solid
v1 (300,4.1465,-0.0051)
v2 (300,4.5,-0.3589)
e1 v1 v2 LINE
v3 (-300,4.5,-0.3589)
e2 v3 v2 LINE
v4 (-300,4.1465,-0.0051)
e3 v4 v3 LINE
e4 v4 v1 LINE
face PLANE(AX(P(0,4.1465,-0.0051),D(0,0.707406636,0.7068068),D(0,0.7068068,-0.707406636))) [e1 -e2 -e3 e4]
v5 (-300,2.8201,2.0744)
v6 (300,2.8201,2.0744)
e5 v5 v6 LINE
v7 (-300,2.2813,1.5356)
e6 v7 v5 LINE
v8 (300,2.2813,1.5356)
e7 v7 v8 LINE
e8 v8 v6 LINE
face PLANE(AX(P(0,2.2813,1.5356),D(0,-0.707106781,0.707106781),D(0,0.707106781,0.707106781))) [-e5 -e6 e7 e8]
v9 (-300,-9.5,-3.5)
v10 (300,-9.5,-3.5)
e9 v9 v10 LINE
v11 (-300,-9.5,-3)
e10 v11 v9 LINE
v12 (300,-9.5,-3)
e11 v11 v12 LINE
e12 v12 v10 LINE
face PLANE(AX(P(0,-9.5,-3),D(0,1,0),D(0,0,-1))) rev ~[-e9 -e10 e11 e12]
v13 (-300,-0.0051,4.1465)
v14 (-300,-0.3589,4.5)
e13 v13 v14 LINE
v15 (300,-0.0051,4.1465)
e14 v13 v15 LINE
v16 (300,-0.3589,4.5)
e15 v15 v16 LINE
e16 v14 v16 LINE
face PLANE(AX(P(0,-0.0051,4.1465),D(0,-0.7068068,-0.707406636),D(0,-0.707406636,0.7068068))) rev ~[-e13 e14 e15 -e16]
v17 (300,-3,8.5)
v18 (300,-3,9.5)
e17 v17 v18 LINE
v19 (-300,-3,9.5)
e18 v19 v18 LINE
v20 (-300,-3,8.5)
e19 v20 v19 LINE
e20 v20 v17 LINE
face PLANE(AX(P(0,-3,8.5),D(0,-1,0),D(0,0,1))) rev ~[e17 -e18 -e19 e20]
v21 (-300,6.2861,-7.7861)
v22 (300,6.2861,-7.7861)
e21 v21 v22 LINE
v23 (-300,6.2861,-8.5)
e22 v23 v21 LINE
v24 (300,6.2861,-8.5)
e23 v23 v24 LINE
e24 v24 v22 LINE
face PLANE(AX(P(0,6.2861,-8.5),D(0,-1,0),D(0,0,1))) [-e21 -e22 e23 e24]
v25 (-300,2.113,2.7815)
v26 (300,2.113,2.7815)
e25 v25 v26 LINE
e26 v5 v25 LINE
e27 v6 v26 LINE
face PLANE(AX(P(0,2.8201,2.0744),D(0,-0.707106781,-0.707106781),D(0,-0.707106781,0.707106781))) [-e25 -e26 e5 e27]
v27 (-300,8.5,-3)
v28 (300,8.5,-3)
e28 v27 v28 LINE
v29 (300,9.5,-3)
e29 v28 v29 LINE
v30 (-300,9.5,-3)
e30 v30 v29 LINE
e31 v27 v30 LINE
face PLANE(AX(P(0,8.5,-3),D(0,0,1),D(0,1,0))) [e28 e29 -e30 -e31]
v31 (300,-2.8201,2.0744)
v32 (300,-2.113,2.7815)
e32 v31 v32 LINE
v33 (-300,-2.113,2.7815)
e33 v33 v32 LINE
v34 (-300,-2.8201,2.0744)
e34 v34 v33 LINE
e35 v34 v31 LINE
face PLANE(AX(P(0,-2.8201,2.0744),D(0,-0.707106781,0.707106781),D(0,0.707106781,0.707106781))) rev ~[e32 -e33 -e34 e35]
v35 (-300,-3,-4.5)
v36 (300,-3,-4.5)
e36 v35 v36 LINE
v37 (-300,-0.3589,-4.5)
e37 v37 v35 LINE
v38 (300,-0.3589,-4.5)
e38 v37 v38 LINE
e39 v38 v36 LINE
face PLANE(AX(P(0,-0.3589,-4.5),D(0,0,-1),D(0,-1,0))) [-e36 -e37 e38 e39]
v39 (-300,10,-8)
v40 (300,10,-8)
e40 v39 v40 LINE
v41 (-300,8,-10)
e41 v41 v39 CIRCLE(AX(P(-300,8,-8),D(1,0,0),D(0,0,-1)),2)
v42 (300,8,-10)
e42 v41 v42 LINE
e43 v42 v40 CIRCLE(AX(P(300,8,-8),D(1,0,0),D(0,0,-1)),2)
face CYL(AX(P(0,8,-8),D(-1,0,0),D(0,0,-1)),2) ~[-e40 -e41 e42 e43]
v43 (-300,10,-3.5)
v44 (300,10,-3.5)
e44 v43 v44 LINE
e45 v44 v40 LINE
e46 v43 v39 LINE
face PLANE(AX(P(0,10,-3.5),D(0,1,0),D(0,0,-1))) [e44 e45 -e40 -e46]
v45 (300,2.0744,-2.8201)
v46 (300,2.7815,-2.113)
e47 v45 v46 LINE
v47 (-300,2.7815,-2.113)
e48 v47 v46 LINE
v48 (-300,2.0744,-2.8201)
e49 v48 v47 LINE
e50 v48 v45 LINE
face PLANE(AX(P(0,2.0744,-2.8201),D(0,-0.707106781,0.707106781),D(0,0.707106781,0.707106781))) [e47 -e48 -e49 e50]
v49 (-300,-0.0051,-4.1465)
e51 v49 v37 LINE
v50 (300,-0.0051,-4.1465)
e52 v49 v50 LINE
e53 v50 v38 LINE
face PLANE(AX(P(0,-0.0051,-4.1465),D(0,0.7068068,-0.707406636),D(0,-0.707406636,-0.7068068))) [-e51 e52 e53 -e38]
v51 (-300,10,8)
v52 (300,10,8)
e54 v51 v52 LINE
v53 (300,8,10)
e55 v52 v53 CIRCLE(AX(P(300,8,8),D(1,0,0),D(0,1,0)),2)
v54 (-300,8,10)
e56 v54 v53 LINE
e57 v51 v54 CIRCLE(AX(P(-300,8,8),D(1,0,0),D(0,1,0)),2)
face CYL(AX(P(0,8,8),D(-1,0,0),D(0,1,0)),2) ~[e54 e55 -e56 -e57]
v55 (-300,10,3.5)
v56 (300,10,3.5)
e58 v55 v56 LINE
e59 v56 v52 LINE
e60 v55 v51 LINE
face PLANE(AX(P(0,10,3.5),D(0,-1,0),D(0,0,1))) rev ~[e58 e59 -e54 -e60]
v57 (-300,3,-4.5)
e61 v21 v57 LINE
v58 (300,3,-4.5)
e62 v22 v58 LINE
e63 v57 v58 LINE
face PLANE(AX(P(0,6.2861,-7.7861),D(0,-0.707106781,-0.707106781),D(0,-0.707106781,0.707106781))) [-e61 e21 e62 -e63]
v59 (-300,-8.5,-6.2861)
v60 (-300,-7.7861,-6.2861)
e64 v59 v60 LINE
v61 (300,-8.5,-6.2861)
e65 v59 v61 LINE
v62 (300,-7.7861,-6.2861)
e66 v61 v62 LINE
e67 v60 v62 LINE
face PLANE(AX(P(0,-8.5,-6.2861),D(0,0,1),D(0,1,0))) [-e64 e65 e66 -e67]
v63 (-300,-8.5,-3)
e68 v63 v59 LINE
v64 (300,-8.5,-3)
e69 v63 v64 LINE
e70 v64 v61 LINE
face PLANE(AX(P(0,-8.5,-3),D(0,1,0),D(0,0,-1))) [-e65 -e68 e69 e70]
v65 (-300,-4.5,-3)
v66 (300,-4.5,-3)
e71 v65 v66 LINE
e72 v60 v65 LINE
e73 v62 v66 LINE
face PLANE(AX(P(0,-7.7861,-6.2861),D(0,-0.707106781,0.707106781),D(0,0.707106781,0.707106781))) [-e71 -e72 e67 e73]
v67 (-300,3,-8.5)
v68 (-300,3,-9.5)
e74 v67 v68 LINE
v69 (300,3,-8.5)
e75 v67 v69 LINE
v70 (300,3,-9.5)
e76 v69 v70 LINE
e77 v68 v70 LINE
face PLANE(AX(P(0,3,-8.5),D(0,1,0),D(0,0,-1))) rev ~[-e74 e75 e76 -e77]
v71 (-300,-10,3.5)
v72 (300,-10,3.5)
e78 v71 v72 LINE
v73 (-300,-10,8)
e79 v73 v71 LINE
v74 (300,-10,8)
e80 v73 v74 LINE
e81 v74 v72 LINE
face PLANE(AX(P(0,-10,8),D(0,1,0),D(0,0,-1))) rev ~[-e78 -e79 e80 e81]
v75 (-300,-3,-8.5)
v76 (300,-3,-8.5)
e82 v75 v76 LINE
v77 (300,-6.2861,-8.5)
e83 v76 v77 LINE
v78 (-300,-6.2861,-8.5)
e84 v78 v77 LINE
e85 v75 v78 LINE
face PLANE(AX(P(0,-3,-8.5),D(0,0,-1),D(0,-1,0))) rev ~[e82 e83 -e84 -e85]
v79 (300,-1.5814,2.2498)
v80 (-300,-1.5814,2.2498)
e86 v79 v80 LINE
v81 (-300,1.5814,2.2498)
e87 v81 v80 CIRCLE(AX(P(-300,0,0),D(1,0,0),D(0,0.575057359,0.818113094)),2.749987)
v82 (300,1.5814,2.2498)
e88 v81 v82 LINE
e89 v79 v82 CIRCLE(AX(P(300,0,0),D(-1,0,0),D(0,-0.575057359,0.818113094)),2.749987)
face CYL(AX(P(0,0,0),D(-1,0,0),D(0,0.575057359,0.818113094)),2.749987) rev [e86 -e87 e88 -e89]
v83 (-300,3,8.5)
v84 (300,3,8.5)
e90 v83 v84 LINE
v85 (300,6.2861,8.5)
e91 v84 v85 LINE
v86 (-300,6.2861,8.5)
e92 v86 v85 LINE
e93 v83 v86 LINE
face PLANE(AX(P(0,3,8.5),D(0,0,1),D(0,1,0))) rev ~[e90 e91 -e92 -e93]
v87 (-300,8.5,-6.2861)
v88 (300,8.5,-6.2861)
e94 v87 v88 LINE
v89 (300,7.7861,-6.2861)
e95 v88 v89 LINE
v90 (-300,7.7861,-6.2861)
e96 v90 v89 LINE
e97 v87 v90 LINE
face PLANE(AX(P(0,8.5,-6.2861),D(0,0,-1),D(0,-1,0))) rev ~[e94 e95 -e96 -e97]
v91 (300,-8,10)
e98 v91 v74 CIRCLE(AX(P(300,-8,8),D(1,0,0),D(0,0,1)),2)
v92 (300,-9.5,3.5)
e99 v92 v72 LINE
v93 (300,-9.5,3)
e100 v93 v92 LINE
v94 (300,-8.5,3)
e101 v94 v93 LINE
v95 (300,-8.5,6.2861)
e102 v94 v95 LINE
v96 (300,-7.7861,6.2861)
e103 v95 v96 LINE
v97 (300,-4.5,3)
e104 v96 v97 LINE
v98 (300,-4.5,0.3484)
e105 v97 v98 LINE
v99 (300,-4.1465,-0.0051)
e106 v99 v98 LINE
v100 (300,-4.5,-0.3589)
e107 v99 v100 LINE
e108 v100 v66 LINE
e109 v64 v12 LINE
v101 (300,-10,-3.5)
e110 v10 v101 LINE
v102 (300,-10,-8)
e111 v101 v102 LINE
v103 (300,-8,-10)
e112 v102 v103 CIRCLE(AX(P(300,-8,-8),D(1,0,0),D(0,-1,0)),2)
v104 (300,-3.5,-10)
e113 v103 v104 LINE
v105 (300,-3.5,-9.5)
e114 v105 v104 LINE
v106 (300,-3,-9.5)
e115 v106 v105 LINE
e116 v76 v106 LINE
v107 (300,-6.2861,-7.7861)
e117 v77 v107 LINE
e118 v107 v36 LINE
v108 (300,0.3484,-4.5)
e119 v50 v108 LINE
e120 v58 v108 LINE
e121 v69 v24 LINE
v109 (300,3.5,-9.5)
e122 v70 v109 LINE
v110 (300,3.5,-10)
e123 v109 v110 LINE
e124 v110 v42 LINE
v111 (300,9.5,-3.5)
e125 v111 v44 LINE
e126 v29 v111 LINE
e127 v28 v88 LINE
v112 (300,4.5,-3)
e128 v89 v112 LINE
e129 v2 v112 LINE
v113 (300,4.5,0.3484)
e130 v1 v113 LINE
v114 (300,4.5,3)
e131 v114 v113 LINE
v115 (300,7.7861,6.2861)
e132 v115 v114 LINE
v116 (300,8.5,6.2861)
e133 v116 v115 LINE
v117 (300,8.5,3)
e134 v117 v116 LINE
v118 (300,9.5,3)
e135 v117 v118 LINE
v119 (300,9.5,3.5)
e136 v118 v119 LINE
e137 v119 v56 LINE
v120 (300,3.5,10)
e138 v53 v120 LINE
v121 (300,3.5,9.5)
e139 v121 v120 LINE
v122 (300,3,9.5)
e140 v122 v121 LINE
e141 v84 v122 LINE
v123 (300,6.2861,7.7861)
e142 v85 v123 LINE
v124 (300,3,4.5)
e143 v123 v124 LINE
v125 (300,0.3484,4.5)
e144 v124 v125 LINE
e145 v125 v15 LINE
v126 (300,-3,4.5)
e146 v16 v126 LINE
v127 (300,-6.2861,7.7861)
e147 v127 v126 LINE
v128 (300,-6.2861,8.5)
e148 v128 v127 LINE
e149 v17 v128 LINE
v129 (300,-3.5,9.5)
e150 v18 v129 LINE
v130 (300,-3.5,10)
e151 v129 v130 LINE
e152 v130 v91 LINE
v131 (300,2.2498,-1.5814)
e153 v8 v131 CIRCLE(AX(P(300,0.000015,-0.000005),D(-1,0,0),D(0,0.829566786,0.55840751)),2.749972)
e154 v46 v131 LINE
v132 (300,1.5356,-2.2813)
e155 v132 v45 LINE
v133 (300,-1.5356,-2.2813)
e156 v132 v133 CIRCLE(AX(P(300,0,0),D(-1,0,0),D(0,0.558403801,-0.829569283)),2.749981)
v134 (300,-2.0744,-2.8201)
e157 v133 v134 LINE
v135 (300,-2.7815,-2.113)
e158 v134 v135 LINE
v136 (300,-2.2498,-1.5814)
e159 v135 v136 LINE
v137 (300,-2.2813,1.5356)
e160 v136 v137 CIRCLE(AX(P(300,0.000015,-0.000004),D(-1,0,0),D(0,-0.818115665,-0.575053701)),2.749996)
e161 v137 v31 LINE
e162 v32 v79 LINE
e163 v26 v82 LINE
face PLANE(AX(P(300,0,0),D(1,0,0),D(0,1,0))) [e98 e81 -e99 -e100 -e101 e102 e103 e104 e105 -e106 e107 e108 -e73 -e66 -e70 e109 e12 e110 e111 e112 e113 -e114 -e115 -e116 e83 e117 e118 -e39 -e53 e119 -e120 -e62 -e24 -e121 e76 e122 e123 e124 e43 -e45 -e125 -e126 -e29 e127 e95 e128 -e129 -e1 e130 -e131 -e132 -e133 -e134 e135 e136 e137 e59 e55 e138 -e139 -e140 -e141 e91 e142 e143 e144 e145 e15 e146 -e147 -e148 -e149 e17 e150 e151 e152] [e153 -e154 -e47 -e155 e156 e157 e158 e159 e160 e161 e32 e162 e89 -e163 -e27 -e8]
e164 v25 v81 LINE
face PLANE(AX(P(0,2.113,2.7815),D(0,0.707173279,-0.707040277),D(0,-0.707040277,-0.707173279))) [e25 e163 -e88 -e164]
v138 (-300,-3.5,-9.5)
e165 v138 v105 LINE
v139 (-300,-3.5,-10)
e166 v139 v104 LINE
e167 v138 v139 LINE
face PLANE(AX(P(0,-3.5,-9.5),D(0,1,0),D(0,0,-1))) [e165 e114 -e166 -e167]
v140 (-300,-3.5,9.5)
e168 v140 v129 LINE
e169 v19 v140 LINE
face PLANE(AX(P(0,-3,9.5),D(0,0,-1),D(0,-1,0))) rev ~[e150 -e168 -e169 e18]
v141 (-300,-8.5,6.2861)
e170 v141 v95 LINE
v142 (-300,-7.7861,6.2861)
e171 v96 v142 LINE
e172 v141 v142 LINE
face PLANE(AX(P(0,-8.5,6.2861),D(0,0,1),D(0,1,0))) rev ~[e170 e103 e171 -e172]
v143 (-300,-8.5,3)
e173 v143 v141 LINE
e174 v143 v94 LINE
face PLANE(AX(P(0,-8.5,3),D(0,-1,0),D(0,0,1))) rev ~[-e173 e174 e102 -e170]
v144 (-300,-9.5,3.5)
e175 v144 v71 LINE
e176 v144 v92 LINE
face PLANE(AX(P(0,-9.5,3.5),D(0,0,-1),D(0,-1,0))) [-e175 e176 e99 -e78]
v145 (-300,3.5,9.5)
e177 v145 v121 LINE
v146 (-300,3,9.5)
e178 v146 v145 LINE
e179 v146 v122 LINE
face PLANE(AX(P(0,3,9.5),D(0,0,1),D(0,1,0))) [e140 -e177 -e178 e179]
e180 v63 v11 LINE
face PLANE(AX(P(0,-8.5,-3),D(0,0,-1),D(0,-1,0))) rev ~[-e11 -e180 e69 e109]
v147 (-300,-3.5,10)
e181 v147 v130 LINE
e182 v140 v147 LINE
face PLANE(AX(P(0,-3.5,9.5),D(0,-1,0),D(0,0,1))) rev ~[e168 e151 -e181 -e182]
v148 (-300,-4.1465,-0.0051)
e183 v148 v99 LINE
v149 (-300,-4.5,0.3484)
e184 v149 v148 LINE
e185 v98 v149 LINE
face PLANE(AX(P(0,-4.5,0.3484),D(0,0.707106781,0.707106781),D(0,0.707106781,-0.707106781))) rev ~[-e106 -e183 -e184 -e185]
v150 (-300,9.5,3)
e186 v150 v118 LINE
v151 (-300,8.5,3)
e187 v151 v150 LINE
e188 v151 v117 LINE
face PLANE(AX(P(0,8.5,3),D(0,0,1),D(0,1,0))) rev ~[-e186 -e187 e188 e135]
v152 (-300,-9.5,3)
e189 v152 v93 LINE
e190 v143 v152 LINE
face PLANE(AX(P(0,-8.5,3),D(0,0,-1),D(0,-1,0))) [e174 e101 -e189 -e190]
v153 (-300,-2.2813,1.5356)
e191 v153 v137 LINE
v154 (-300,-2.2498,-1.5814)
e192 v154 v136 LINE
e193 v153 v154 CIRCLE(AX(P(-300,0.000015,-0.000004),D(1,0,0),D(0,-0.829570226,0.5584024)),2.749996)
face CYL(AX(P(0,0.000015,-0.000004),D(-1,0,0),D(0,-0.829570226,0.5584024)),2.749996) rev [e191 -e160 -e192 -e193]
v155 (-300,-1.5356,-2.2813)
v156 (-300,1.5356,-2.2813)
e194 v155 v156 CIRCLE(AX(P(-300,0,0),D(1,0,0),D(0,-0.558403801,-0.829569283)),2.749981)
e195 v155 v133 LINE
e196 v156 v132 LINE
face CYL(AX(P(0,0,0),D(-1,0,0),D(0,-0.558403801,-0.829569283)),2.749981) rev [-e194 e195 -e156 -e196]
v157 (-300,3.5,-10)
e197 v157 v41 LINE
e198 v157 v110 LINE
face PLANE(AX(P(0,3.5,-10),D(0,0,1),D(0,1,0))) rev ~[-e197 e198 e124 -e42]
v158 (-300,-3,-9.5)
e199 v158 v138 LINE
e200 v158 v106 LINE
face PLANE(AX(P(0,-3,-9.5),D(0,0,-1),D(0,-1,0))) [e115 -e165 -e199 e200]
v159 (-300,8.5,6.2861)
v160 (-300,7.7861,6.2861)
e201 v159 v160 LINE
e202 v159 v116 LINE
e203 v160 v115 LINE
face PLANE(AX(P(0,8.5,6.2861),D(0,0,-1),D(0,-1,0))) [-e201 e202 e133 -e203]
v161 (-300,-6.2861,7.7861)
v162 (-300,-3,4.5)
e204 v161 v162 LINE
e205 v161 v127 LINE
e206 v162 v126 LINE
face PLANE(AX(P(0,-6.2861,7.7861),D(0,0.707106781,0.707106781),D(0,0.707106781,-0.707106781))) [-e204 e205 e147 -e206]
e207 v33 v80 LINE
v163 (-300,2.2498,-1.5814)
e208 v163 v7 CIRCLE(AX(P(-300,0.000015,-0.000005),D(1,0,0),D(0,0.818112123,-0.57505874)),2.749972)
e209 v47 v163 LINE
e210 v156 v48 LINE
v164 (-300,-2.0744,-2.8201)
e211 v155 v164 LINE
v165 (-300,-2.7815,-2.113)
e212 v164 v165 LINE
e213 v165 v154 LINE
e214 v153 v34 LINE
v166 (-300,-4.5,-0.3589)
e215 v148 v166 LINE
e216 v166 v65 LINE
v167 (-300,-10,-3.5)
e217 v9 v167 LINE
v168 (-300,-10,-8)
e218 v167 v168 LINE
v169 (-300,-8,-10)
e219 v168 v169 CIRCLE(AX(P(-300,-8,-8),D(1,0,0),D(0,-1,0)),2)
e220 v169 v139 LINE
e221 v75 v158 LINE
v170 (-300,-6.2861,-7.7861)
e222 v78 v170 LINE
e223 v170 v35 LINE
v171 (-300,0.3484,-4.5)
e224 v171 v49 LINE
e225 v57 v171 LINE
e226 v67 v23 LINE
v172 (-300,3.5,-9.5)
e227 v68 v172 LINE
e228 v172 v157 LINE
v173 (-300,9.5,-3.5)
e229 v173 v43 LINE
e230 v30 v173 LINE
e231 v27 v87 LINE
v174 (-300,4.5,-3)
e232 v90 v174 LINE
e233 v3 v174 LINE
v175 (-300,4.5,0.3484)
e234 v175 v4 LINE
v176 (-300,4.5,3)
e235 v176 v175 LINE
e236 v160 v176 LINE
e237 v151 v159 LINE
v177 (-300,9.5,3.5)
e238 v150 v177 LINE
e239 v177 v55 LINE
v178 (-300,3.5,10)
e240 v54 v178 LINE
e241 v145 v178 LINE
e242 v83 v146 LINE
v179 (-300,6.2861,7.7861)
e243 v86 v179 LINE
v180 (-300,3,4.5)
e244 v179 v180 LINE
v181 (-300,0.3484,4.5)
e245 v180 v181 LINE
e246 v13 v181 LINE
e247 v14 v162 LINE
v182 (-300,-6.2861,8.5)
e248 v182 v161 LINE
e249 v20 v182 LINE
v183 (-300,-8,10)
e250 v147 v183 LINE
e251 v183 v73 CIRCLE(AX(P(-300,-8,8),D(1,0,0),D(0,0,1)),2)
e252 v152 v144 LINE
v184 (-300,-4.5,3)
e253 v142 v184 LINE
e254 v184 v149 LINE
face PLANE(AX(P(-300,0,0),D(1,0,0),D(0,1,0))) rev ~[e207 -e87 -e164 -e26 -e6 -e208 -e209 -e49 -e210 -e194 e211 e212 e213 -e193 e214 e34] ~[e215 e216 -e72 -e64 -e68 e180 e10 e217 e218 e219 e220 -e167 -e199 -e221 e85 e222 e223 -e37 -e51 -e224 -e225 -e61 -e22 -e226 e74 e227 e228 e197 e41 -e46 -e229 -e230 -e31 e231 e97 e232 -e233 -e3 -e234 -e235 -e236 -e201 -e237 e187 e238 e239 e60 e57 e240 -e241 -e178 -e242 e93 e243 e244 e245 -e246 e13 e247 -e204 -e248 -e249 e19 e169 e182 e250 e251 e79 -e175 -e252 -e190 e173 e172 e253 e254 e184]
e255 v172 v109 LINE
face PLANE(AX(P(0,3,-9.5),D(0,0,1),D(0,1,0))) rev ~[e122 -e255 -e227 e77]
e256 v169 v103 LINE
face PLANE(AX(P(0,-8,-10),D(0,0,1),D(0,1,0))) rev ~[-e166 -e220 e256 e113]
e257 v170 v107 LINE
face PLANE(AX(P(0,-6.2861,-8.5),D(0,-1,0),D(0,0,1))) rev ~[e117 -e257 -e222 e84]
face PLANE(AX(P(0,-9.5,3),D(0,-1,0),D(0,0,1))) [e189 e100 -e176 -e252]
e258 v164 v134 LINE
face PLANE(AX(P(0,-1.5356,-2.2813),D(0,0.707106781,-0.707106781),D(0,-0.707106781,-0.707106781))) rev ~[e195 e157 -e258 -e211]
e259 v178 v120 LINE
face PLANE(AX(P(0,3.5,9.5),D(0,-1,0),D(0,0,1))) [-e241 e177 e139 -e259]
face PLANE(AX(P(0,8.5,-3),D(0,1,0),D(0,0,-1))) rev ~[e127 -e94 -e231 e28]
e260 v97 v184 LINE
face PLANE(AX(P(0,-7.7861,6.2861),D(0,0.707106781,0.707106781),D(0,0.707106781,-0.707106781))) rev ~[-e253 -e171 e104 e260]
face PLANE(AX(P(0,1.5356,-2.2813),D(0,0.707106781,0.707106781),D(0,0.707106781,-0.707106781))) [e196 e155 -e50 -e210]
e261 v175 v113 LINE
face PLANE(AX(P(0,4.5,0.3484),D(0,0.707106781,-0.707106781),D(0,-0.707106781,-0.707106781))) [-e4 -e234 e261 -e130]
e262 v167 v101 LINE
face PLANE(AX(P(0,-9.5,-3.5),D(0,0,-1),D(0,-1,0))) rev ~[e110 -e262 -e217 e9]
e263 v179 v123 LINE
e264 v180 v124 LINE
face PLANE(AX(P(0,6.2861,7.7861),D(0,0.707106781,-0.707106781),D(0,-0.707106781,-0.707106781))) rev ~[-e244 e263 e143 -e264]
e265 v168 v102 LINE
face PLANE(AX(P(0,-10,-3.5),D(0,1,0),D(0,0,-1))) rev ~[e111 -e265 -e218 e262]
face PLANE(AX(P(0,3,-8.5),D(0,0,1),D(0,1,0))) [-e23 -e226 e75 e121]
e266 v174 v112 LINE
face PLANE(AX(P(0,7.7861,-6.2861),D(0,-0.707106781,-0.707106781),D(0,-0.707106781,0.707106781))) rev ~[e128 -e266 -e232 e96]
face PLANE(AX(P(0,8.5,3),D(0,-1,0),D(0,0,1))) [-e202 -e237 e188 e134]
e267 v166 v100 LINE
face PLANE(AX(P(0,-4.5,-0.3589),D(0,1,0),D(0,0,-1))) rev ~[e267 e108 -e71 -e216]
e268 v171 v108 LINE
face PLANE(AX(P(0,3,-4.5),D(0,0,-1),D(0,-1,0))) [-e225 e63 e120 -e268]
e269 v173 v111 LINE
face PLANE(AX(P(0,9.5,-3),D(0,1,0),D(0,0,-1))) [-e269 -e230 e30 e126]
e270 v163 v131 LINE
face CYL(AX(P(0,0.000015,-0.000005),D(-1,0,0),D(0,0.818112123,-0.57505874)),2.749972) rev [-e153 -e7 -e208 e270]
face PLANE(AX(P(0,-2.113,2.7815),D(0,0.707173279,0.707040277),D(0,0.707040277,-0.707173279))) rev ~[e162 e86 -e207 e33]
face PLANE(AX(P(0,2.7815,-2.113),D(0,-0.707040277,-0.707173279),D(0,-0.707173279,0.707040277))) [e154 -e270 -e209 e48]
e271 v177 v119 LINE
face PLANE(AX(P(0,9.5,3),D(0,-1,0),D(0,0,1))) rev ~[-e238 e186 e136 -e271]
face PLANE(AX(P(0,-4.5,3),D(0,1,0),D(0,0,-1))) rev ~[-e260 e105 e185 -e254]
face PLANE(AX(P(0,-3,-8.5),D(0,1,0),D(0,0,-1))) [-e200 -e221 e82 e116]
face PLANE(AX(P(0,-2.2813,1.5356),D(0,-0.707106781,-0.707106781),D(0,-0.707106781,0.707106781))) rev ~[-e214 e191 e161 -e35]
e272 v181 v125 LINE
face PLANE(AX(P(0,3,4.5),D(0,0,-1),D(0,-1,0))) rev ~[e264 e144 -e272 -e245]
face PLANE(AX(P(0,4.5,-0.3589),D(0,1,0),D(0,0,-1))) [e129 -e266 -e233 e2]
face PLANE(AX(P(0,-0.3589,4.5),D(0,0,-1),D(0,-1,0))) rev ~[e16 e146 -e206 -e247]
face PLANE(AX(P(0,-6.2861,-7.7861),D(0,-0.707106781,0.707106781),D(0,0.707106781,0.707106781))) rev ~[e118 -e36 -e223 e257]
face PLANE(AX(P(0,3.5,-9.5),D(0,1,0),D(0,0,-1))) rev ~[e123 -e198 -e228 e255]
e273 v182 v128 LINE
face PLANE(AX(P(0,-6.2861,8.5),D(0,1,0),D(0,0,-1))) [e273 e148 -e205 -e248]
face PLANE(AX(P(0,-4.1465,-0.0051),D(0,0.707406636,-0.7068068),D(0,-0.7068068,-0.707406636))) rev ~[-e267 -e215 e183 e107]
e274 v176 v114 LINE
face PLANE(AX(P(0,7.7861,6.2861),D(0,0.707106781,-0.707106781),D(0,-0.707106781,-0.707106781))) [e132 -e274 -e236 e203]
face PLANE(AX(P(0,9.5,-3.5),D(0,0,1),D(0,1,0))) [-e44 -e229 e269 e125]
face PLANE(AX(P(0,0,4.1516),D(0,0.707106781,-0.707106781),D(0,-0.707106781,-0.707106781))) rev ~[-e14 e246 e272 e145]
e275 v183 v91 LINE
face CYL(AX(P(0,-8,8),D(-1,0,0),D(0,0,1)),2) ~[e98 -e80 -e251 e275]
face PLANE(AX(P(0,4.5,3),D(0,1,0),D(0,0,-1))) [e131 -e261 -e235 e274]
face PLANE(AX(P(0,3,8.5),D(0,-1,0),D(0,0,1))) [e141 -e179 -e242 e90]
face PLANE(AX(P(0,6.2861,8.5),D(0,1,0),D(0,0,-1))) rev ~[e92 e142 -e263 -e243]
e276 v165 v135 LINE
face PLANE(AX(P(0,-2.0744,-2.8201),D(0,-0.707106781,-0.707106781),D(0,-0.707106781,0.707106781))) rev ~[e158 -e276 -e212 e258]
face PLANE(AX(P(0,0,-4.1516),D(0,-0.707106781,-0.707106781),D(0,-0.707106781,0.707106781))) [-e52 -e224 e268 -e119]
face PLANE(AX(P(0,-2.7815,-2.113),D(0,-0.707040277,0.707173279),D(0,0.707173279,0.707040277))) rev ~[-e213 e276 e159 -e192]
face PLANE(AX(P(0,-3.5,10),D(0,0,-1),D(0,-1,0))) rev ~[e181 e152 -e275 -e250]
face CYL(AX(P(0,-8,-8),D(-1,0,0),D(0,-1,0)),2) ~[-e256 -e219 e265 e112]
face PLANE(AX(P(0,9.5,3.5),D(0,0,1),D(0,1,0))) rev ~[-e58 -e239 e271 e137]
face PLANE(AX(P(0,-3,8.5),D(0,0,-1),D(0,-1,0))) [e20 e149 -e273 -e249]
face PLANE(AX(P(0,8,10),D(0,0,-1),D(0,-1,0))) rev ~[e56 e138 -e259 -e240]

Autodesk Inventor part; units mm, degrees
ref_plane "YZ Plane" through (0, 0, 0) normal (1, 0, 0) x (0, 1, 0)
ref_plane "XZ Plane" through (0, 0, 0) normal (0, 1, 0) x (-1, 0, 0)
ref_plane "XY Plane" through (0, 0, 0) normal (0, 0, 1) x (1, 0, 0)
sketch "Skizze1" plane through (0, 0, 0) normal (1, 0, 0) x (0, 1, 0)
  line L0 (-14.5799, 0) -> (14.5799, 0) projected
  line L1 (0, -14.5799) -> (0, 14.5799) projected
  line L2 (9.5, 3) -> (9.5, 3.5)
  line L3 (9.5, 3.5) -> (10, 3.5)
  line L4 (8.5, 3) -> (8.5, 6.2861)
  line L5 (7.7861, 6.2861) -> (4.5, 3)
  line L6 (8.5, 6.2861) -> (7.7861, 6.2861)
  line L7 (8.5, 3) -> (9.5, 3)
  line L8 (9.5, -3) -> (9.5, -3.5)
  line L9 (9.5, -3.5) -> (10, -3.5)
  line L10 (8.5, -3) -> (8.5, -6.2861)
  line L11 (7.7861, -6.2861) -> (4.5, -3)
  line L12 (8.5, -6.2861) -> (7.7861, -6.2861)
  line L13 (8.5, -3) -> (9.5, -3)
  line L14 (10, 3.5) -> (10, 8)
  line L15 (10, -3.5) -> (10, -8)
  line L16 (-9.5, 3) -> (-9.5, 3.5)
  line L17 (-9.5, 3.5) -> (-10, 3.5)
  line L18 (-8.5, 3) -> (-8.5, 6.2861)
  line L19 (-7.7861, 6.2861) -> (-4.5, 3)
  line L20 (-8.5, 6.2861) -> (-7.7861, 6.2861)
  line L21 (-8.5, 3) -> (-9.5, 3)
  line L22 (-8.5, -3) -> (-9.5, -3)
  line L23 (-8.5, -3) -> (-8.5, -6.2861)
  line L24 (-8.5, -6.2861) -> (-7.7861, -6.2861)
  line L25 (-7.7861, -6.2861) -> (-4.5, -3)
  line L26 (-9.5, -3) -> (-9.5, -3.5)
  line L27 (-9.5, -3.5) -> (-10, -3.5)
  line L28 (3, -9.5) -> (3.5, -9.5)
  line L29 (3.5, -9.5) -> (3.5, -10)
  line L30 (3, -8.5) -> (6.2861, -8.5)
  line L31 (6.2861, -7.7861) -> (3, -4.5)
  line L32 (6.2861, -8.5) -> (6.2861, -7.7861)
  line L33 (3, -8.5) -> (3, -9.5)
  line L34 (-3, -8.5) -> (-3, -9.5)
  line L35 (-3, -8.5) -> (-6.2861, -8.5)
  line L36 (-6.2861, -8.5) -> (-6.2861, -7.7861)
  line L37 (-6.2861, -7.7861) -> (-3, -4.5)
  line L38 (-3, -9.5) -> (-3.5, -9.5)
  line L39 (-3.5, -9.5) -> (-3.5, -10)
  line L40 (3.5, 9.5) -> (3.5, 10)
  line L41 (3, 9.5) -> (3.5, 9.5)
  line L42 (3, 8.5) -> (3, 9.5)
  line L43 (3, 8.5) -> (6.2861, 8.5)
  line L44 (6.2861, 8.5) -> (6.2861, 7.7861)
  line L45 (6.2861, 7.7861) -> (3, 4.5)
  line L46 (-6.2861, 7.7861) -> (-3, 4.5)
  line L47 (-6.2861, 8.5) -> (-6.2861, 7.7861)
  line L48 (-3, 8.5) -> (-6.2861, 8.5)
  line L49 (-3, 8.5) -> (-3, 9.5)
  line L50 (-3, 9.5) -> (-3.5, 9.5)
  line L51 (-3.5, 9.5) -> (-3.5, 10)
  line L52 (8, 10) -> (3.5, 10)
  line L53 (-3.5, 10) -> (-8, 10)
  line L54 (-10, 8) -> (-10, 3.5)
  line L55 (-10, -3.5) -> (-10, -8)
  line L56 (-8, -10) -> (-3.5, -10)
  line L57 (3.5, -10) -> (8, -10)
  arc A0 (10, 8) -> (8, 10) centre (8, 8) ccw
  arc A1 (8, -10) -> (10, -8) centre (8, -8) ccw
  arc A2 (-10, -8) -> (-8, -10) centre (-8, -8) ccw
  arc A3 (-8, 10) -> (-10, 8) centre (-8, 8) ccw
  line L58 (-2.8201, 2.0744) -> (-2.113, 2.7815)
  line L59 (-2.113, 2.7815) -> (-1.5814, 2.2498)
  line L60 (-2.2813, 1.5356) -> (-2.8201, 2.0744)
  line L61 (2.8201, 2.0744) -> (2.113, 2.7815)
  line L62 (2.113, 2.7815) -> (1.5814, 2.2498)
  line L63 (2.2813, 1.5356) -> (2.8201, 2.0744)
  line L64 (2.0744, -2.8201) -> (2.7815, -2.113)
  line L65 (2.7815, -2.113) -> (2.2498, -1.5814)
  line L66 (1.5356, -2.2813) -> (2.0744, -2.8201)
  line L67 (-2.7815, -2.113) -> (-2.2498, -1.5814)
  line L68 (-2.0744, -2.8201) -> (-2.7815, -2.113)
  line L69 (-1.5356, -2.2813) -> (-2.0744, -2.8201)
  arc A4 (1.5814, 2.2498) -> (-1.5814, 2.2498) centre (0, 0) ccw
  arc A5 (1.5814, 2.2498) -> (-1.5814, 2.2498) centre (0, 0) ccw
  arc A6 (2.2498, -1.5814) -> (2.2813, 1.5356) centre (0, 0) ccw
  arc A7 (2.2498, -1.5814) -> (2.2813, 1.5356) centre (0, 0) ccw
  arc A8 (-2.2813, 1.5356) -> (-2.2498, -1.5814) centre (0, 0) ccw
  arc A9 (-1.5356, -2.2813) -> (1.5356, -2.2813) centre (0, 0) ccw
  arc A10 (-2.2813, 1.5356) -> (-2.2498, -1.5814) centre (0, 0) ccw
  arc A11 (-1.5356, -2.2813) -> (1.5356, -2.2813) centre (0, 0) ccw
  line L70 (0.3484, 4.5) -> (-0.0051, 4.1465)
  line L71 (-0.0051, 4.1465) -> (-0.3589, 4.5)
  line L72 (3, 4.5) -> (0.3484, 4.5)
  line L73 (-0.3589, 4.5) -> (-3, 4.5)
  line L74 (4.5, 0.3484) -> (4.1465, -0.0051)
  line L75 (4.1465, -0.0051) -> (4.5, -0.3589)
  line L76 (0.3484, -4.5) -> (-0.0051, -4.1465)
  line L77 (-0.0051, -4.1465) -> (-0.3589, -4.5)
  line L78 (-4.5, 0.3484) -> (-4.1465, -0.0051)
  line L79 (-4.1465, -0.0051) -> (-4.5, -0.3589)
  line L80 (4.5, 3) -> (4.5, 0.3484)
  line L81 (4.5, -0.3589) -> (4.5, -3)
  line L82 (3, -4.5) -> (0.3484, -4.5)
  line L83 (-0.3589, -4.5) -> (-3, -4.5)
  line L84 (-4.5, 3) -> (-4.5, 0.3484)
  line L85 (-4.5, -0.3589) -> (-4.5, -3)
  point P0 (-10, -10)
  point P1 (-10, 10)
  point P2 (10, -10)
  dimension "d0" = 20
  dimension "d1" = 20
  dimension "d4" = 6
  dimension "d9" = 0.5
  dimension "d10" = 0.5
  dimension "d13" = 45
  dimension "d14" = 3.2861
  dimension "d16" = 3
  dimension "d17" = 3.5
  dimension "d19" = 6
  dimension "d20" = 0.5
  dimension "d21" = 0.5
  dimension "d22" = 45
  dimension "d23" = 3.2861
  dimension "d25" = 2
extrude "Extrusion1" add sketch "Skizze1" along normal mid plane 600 contours L78 L84 L19 L20 L18 L21 L16 L17 L54 A3 L53 L51 L50 L49 L48 L47 L46 L73 L71 L70 L1 A4 L59 L58 L60 A8 L0 | L0 A8 L67 L68 L69 A9 L1 L76 L77 L83 L37 L36 L35 L34 L38 L39 L56 A2 L55 L27 L26 L22 L23 L24 L25 L85 L79 L78 | A6 L63 L61 L62 A4 L1 L70 L72 L45 L44 L43 L42 L41 L40 L52 A0 L14 L3 L2 L7 L4 L6 L5 L80 L74 L0 | L0 L74 L75 L81 L11 L12 L10 L13 L8 L9 L15 A1 L57 L29 L28 L33 L30 L32 L31 L82 L76 L1 A9 L66 L64 L65 A6
properties part number "Motedius_20x20_B-Type_Slot-6_600" material "Aluminium 6061"
